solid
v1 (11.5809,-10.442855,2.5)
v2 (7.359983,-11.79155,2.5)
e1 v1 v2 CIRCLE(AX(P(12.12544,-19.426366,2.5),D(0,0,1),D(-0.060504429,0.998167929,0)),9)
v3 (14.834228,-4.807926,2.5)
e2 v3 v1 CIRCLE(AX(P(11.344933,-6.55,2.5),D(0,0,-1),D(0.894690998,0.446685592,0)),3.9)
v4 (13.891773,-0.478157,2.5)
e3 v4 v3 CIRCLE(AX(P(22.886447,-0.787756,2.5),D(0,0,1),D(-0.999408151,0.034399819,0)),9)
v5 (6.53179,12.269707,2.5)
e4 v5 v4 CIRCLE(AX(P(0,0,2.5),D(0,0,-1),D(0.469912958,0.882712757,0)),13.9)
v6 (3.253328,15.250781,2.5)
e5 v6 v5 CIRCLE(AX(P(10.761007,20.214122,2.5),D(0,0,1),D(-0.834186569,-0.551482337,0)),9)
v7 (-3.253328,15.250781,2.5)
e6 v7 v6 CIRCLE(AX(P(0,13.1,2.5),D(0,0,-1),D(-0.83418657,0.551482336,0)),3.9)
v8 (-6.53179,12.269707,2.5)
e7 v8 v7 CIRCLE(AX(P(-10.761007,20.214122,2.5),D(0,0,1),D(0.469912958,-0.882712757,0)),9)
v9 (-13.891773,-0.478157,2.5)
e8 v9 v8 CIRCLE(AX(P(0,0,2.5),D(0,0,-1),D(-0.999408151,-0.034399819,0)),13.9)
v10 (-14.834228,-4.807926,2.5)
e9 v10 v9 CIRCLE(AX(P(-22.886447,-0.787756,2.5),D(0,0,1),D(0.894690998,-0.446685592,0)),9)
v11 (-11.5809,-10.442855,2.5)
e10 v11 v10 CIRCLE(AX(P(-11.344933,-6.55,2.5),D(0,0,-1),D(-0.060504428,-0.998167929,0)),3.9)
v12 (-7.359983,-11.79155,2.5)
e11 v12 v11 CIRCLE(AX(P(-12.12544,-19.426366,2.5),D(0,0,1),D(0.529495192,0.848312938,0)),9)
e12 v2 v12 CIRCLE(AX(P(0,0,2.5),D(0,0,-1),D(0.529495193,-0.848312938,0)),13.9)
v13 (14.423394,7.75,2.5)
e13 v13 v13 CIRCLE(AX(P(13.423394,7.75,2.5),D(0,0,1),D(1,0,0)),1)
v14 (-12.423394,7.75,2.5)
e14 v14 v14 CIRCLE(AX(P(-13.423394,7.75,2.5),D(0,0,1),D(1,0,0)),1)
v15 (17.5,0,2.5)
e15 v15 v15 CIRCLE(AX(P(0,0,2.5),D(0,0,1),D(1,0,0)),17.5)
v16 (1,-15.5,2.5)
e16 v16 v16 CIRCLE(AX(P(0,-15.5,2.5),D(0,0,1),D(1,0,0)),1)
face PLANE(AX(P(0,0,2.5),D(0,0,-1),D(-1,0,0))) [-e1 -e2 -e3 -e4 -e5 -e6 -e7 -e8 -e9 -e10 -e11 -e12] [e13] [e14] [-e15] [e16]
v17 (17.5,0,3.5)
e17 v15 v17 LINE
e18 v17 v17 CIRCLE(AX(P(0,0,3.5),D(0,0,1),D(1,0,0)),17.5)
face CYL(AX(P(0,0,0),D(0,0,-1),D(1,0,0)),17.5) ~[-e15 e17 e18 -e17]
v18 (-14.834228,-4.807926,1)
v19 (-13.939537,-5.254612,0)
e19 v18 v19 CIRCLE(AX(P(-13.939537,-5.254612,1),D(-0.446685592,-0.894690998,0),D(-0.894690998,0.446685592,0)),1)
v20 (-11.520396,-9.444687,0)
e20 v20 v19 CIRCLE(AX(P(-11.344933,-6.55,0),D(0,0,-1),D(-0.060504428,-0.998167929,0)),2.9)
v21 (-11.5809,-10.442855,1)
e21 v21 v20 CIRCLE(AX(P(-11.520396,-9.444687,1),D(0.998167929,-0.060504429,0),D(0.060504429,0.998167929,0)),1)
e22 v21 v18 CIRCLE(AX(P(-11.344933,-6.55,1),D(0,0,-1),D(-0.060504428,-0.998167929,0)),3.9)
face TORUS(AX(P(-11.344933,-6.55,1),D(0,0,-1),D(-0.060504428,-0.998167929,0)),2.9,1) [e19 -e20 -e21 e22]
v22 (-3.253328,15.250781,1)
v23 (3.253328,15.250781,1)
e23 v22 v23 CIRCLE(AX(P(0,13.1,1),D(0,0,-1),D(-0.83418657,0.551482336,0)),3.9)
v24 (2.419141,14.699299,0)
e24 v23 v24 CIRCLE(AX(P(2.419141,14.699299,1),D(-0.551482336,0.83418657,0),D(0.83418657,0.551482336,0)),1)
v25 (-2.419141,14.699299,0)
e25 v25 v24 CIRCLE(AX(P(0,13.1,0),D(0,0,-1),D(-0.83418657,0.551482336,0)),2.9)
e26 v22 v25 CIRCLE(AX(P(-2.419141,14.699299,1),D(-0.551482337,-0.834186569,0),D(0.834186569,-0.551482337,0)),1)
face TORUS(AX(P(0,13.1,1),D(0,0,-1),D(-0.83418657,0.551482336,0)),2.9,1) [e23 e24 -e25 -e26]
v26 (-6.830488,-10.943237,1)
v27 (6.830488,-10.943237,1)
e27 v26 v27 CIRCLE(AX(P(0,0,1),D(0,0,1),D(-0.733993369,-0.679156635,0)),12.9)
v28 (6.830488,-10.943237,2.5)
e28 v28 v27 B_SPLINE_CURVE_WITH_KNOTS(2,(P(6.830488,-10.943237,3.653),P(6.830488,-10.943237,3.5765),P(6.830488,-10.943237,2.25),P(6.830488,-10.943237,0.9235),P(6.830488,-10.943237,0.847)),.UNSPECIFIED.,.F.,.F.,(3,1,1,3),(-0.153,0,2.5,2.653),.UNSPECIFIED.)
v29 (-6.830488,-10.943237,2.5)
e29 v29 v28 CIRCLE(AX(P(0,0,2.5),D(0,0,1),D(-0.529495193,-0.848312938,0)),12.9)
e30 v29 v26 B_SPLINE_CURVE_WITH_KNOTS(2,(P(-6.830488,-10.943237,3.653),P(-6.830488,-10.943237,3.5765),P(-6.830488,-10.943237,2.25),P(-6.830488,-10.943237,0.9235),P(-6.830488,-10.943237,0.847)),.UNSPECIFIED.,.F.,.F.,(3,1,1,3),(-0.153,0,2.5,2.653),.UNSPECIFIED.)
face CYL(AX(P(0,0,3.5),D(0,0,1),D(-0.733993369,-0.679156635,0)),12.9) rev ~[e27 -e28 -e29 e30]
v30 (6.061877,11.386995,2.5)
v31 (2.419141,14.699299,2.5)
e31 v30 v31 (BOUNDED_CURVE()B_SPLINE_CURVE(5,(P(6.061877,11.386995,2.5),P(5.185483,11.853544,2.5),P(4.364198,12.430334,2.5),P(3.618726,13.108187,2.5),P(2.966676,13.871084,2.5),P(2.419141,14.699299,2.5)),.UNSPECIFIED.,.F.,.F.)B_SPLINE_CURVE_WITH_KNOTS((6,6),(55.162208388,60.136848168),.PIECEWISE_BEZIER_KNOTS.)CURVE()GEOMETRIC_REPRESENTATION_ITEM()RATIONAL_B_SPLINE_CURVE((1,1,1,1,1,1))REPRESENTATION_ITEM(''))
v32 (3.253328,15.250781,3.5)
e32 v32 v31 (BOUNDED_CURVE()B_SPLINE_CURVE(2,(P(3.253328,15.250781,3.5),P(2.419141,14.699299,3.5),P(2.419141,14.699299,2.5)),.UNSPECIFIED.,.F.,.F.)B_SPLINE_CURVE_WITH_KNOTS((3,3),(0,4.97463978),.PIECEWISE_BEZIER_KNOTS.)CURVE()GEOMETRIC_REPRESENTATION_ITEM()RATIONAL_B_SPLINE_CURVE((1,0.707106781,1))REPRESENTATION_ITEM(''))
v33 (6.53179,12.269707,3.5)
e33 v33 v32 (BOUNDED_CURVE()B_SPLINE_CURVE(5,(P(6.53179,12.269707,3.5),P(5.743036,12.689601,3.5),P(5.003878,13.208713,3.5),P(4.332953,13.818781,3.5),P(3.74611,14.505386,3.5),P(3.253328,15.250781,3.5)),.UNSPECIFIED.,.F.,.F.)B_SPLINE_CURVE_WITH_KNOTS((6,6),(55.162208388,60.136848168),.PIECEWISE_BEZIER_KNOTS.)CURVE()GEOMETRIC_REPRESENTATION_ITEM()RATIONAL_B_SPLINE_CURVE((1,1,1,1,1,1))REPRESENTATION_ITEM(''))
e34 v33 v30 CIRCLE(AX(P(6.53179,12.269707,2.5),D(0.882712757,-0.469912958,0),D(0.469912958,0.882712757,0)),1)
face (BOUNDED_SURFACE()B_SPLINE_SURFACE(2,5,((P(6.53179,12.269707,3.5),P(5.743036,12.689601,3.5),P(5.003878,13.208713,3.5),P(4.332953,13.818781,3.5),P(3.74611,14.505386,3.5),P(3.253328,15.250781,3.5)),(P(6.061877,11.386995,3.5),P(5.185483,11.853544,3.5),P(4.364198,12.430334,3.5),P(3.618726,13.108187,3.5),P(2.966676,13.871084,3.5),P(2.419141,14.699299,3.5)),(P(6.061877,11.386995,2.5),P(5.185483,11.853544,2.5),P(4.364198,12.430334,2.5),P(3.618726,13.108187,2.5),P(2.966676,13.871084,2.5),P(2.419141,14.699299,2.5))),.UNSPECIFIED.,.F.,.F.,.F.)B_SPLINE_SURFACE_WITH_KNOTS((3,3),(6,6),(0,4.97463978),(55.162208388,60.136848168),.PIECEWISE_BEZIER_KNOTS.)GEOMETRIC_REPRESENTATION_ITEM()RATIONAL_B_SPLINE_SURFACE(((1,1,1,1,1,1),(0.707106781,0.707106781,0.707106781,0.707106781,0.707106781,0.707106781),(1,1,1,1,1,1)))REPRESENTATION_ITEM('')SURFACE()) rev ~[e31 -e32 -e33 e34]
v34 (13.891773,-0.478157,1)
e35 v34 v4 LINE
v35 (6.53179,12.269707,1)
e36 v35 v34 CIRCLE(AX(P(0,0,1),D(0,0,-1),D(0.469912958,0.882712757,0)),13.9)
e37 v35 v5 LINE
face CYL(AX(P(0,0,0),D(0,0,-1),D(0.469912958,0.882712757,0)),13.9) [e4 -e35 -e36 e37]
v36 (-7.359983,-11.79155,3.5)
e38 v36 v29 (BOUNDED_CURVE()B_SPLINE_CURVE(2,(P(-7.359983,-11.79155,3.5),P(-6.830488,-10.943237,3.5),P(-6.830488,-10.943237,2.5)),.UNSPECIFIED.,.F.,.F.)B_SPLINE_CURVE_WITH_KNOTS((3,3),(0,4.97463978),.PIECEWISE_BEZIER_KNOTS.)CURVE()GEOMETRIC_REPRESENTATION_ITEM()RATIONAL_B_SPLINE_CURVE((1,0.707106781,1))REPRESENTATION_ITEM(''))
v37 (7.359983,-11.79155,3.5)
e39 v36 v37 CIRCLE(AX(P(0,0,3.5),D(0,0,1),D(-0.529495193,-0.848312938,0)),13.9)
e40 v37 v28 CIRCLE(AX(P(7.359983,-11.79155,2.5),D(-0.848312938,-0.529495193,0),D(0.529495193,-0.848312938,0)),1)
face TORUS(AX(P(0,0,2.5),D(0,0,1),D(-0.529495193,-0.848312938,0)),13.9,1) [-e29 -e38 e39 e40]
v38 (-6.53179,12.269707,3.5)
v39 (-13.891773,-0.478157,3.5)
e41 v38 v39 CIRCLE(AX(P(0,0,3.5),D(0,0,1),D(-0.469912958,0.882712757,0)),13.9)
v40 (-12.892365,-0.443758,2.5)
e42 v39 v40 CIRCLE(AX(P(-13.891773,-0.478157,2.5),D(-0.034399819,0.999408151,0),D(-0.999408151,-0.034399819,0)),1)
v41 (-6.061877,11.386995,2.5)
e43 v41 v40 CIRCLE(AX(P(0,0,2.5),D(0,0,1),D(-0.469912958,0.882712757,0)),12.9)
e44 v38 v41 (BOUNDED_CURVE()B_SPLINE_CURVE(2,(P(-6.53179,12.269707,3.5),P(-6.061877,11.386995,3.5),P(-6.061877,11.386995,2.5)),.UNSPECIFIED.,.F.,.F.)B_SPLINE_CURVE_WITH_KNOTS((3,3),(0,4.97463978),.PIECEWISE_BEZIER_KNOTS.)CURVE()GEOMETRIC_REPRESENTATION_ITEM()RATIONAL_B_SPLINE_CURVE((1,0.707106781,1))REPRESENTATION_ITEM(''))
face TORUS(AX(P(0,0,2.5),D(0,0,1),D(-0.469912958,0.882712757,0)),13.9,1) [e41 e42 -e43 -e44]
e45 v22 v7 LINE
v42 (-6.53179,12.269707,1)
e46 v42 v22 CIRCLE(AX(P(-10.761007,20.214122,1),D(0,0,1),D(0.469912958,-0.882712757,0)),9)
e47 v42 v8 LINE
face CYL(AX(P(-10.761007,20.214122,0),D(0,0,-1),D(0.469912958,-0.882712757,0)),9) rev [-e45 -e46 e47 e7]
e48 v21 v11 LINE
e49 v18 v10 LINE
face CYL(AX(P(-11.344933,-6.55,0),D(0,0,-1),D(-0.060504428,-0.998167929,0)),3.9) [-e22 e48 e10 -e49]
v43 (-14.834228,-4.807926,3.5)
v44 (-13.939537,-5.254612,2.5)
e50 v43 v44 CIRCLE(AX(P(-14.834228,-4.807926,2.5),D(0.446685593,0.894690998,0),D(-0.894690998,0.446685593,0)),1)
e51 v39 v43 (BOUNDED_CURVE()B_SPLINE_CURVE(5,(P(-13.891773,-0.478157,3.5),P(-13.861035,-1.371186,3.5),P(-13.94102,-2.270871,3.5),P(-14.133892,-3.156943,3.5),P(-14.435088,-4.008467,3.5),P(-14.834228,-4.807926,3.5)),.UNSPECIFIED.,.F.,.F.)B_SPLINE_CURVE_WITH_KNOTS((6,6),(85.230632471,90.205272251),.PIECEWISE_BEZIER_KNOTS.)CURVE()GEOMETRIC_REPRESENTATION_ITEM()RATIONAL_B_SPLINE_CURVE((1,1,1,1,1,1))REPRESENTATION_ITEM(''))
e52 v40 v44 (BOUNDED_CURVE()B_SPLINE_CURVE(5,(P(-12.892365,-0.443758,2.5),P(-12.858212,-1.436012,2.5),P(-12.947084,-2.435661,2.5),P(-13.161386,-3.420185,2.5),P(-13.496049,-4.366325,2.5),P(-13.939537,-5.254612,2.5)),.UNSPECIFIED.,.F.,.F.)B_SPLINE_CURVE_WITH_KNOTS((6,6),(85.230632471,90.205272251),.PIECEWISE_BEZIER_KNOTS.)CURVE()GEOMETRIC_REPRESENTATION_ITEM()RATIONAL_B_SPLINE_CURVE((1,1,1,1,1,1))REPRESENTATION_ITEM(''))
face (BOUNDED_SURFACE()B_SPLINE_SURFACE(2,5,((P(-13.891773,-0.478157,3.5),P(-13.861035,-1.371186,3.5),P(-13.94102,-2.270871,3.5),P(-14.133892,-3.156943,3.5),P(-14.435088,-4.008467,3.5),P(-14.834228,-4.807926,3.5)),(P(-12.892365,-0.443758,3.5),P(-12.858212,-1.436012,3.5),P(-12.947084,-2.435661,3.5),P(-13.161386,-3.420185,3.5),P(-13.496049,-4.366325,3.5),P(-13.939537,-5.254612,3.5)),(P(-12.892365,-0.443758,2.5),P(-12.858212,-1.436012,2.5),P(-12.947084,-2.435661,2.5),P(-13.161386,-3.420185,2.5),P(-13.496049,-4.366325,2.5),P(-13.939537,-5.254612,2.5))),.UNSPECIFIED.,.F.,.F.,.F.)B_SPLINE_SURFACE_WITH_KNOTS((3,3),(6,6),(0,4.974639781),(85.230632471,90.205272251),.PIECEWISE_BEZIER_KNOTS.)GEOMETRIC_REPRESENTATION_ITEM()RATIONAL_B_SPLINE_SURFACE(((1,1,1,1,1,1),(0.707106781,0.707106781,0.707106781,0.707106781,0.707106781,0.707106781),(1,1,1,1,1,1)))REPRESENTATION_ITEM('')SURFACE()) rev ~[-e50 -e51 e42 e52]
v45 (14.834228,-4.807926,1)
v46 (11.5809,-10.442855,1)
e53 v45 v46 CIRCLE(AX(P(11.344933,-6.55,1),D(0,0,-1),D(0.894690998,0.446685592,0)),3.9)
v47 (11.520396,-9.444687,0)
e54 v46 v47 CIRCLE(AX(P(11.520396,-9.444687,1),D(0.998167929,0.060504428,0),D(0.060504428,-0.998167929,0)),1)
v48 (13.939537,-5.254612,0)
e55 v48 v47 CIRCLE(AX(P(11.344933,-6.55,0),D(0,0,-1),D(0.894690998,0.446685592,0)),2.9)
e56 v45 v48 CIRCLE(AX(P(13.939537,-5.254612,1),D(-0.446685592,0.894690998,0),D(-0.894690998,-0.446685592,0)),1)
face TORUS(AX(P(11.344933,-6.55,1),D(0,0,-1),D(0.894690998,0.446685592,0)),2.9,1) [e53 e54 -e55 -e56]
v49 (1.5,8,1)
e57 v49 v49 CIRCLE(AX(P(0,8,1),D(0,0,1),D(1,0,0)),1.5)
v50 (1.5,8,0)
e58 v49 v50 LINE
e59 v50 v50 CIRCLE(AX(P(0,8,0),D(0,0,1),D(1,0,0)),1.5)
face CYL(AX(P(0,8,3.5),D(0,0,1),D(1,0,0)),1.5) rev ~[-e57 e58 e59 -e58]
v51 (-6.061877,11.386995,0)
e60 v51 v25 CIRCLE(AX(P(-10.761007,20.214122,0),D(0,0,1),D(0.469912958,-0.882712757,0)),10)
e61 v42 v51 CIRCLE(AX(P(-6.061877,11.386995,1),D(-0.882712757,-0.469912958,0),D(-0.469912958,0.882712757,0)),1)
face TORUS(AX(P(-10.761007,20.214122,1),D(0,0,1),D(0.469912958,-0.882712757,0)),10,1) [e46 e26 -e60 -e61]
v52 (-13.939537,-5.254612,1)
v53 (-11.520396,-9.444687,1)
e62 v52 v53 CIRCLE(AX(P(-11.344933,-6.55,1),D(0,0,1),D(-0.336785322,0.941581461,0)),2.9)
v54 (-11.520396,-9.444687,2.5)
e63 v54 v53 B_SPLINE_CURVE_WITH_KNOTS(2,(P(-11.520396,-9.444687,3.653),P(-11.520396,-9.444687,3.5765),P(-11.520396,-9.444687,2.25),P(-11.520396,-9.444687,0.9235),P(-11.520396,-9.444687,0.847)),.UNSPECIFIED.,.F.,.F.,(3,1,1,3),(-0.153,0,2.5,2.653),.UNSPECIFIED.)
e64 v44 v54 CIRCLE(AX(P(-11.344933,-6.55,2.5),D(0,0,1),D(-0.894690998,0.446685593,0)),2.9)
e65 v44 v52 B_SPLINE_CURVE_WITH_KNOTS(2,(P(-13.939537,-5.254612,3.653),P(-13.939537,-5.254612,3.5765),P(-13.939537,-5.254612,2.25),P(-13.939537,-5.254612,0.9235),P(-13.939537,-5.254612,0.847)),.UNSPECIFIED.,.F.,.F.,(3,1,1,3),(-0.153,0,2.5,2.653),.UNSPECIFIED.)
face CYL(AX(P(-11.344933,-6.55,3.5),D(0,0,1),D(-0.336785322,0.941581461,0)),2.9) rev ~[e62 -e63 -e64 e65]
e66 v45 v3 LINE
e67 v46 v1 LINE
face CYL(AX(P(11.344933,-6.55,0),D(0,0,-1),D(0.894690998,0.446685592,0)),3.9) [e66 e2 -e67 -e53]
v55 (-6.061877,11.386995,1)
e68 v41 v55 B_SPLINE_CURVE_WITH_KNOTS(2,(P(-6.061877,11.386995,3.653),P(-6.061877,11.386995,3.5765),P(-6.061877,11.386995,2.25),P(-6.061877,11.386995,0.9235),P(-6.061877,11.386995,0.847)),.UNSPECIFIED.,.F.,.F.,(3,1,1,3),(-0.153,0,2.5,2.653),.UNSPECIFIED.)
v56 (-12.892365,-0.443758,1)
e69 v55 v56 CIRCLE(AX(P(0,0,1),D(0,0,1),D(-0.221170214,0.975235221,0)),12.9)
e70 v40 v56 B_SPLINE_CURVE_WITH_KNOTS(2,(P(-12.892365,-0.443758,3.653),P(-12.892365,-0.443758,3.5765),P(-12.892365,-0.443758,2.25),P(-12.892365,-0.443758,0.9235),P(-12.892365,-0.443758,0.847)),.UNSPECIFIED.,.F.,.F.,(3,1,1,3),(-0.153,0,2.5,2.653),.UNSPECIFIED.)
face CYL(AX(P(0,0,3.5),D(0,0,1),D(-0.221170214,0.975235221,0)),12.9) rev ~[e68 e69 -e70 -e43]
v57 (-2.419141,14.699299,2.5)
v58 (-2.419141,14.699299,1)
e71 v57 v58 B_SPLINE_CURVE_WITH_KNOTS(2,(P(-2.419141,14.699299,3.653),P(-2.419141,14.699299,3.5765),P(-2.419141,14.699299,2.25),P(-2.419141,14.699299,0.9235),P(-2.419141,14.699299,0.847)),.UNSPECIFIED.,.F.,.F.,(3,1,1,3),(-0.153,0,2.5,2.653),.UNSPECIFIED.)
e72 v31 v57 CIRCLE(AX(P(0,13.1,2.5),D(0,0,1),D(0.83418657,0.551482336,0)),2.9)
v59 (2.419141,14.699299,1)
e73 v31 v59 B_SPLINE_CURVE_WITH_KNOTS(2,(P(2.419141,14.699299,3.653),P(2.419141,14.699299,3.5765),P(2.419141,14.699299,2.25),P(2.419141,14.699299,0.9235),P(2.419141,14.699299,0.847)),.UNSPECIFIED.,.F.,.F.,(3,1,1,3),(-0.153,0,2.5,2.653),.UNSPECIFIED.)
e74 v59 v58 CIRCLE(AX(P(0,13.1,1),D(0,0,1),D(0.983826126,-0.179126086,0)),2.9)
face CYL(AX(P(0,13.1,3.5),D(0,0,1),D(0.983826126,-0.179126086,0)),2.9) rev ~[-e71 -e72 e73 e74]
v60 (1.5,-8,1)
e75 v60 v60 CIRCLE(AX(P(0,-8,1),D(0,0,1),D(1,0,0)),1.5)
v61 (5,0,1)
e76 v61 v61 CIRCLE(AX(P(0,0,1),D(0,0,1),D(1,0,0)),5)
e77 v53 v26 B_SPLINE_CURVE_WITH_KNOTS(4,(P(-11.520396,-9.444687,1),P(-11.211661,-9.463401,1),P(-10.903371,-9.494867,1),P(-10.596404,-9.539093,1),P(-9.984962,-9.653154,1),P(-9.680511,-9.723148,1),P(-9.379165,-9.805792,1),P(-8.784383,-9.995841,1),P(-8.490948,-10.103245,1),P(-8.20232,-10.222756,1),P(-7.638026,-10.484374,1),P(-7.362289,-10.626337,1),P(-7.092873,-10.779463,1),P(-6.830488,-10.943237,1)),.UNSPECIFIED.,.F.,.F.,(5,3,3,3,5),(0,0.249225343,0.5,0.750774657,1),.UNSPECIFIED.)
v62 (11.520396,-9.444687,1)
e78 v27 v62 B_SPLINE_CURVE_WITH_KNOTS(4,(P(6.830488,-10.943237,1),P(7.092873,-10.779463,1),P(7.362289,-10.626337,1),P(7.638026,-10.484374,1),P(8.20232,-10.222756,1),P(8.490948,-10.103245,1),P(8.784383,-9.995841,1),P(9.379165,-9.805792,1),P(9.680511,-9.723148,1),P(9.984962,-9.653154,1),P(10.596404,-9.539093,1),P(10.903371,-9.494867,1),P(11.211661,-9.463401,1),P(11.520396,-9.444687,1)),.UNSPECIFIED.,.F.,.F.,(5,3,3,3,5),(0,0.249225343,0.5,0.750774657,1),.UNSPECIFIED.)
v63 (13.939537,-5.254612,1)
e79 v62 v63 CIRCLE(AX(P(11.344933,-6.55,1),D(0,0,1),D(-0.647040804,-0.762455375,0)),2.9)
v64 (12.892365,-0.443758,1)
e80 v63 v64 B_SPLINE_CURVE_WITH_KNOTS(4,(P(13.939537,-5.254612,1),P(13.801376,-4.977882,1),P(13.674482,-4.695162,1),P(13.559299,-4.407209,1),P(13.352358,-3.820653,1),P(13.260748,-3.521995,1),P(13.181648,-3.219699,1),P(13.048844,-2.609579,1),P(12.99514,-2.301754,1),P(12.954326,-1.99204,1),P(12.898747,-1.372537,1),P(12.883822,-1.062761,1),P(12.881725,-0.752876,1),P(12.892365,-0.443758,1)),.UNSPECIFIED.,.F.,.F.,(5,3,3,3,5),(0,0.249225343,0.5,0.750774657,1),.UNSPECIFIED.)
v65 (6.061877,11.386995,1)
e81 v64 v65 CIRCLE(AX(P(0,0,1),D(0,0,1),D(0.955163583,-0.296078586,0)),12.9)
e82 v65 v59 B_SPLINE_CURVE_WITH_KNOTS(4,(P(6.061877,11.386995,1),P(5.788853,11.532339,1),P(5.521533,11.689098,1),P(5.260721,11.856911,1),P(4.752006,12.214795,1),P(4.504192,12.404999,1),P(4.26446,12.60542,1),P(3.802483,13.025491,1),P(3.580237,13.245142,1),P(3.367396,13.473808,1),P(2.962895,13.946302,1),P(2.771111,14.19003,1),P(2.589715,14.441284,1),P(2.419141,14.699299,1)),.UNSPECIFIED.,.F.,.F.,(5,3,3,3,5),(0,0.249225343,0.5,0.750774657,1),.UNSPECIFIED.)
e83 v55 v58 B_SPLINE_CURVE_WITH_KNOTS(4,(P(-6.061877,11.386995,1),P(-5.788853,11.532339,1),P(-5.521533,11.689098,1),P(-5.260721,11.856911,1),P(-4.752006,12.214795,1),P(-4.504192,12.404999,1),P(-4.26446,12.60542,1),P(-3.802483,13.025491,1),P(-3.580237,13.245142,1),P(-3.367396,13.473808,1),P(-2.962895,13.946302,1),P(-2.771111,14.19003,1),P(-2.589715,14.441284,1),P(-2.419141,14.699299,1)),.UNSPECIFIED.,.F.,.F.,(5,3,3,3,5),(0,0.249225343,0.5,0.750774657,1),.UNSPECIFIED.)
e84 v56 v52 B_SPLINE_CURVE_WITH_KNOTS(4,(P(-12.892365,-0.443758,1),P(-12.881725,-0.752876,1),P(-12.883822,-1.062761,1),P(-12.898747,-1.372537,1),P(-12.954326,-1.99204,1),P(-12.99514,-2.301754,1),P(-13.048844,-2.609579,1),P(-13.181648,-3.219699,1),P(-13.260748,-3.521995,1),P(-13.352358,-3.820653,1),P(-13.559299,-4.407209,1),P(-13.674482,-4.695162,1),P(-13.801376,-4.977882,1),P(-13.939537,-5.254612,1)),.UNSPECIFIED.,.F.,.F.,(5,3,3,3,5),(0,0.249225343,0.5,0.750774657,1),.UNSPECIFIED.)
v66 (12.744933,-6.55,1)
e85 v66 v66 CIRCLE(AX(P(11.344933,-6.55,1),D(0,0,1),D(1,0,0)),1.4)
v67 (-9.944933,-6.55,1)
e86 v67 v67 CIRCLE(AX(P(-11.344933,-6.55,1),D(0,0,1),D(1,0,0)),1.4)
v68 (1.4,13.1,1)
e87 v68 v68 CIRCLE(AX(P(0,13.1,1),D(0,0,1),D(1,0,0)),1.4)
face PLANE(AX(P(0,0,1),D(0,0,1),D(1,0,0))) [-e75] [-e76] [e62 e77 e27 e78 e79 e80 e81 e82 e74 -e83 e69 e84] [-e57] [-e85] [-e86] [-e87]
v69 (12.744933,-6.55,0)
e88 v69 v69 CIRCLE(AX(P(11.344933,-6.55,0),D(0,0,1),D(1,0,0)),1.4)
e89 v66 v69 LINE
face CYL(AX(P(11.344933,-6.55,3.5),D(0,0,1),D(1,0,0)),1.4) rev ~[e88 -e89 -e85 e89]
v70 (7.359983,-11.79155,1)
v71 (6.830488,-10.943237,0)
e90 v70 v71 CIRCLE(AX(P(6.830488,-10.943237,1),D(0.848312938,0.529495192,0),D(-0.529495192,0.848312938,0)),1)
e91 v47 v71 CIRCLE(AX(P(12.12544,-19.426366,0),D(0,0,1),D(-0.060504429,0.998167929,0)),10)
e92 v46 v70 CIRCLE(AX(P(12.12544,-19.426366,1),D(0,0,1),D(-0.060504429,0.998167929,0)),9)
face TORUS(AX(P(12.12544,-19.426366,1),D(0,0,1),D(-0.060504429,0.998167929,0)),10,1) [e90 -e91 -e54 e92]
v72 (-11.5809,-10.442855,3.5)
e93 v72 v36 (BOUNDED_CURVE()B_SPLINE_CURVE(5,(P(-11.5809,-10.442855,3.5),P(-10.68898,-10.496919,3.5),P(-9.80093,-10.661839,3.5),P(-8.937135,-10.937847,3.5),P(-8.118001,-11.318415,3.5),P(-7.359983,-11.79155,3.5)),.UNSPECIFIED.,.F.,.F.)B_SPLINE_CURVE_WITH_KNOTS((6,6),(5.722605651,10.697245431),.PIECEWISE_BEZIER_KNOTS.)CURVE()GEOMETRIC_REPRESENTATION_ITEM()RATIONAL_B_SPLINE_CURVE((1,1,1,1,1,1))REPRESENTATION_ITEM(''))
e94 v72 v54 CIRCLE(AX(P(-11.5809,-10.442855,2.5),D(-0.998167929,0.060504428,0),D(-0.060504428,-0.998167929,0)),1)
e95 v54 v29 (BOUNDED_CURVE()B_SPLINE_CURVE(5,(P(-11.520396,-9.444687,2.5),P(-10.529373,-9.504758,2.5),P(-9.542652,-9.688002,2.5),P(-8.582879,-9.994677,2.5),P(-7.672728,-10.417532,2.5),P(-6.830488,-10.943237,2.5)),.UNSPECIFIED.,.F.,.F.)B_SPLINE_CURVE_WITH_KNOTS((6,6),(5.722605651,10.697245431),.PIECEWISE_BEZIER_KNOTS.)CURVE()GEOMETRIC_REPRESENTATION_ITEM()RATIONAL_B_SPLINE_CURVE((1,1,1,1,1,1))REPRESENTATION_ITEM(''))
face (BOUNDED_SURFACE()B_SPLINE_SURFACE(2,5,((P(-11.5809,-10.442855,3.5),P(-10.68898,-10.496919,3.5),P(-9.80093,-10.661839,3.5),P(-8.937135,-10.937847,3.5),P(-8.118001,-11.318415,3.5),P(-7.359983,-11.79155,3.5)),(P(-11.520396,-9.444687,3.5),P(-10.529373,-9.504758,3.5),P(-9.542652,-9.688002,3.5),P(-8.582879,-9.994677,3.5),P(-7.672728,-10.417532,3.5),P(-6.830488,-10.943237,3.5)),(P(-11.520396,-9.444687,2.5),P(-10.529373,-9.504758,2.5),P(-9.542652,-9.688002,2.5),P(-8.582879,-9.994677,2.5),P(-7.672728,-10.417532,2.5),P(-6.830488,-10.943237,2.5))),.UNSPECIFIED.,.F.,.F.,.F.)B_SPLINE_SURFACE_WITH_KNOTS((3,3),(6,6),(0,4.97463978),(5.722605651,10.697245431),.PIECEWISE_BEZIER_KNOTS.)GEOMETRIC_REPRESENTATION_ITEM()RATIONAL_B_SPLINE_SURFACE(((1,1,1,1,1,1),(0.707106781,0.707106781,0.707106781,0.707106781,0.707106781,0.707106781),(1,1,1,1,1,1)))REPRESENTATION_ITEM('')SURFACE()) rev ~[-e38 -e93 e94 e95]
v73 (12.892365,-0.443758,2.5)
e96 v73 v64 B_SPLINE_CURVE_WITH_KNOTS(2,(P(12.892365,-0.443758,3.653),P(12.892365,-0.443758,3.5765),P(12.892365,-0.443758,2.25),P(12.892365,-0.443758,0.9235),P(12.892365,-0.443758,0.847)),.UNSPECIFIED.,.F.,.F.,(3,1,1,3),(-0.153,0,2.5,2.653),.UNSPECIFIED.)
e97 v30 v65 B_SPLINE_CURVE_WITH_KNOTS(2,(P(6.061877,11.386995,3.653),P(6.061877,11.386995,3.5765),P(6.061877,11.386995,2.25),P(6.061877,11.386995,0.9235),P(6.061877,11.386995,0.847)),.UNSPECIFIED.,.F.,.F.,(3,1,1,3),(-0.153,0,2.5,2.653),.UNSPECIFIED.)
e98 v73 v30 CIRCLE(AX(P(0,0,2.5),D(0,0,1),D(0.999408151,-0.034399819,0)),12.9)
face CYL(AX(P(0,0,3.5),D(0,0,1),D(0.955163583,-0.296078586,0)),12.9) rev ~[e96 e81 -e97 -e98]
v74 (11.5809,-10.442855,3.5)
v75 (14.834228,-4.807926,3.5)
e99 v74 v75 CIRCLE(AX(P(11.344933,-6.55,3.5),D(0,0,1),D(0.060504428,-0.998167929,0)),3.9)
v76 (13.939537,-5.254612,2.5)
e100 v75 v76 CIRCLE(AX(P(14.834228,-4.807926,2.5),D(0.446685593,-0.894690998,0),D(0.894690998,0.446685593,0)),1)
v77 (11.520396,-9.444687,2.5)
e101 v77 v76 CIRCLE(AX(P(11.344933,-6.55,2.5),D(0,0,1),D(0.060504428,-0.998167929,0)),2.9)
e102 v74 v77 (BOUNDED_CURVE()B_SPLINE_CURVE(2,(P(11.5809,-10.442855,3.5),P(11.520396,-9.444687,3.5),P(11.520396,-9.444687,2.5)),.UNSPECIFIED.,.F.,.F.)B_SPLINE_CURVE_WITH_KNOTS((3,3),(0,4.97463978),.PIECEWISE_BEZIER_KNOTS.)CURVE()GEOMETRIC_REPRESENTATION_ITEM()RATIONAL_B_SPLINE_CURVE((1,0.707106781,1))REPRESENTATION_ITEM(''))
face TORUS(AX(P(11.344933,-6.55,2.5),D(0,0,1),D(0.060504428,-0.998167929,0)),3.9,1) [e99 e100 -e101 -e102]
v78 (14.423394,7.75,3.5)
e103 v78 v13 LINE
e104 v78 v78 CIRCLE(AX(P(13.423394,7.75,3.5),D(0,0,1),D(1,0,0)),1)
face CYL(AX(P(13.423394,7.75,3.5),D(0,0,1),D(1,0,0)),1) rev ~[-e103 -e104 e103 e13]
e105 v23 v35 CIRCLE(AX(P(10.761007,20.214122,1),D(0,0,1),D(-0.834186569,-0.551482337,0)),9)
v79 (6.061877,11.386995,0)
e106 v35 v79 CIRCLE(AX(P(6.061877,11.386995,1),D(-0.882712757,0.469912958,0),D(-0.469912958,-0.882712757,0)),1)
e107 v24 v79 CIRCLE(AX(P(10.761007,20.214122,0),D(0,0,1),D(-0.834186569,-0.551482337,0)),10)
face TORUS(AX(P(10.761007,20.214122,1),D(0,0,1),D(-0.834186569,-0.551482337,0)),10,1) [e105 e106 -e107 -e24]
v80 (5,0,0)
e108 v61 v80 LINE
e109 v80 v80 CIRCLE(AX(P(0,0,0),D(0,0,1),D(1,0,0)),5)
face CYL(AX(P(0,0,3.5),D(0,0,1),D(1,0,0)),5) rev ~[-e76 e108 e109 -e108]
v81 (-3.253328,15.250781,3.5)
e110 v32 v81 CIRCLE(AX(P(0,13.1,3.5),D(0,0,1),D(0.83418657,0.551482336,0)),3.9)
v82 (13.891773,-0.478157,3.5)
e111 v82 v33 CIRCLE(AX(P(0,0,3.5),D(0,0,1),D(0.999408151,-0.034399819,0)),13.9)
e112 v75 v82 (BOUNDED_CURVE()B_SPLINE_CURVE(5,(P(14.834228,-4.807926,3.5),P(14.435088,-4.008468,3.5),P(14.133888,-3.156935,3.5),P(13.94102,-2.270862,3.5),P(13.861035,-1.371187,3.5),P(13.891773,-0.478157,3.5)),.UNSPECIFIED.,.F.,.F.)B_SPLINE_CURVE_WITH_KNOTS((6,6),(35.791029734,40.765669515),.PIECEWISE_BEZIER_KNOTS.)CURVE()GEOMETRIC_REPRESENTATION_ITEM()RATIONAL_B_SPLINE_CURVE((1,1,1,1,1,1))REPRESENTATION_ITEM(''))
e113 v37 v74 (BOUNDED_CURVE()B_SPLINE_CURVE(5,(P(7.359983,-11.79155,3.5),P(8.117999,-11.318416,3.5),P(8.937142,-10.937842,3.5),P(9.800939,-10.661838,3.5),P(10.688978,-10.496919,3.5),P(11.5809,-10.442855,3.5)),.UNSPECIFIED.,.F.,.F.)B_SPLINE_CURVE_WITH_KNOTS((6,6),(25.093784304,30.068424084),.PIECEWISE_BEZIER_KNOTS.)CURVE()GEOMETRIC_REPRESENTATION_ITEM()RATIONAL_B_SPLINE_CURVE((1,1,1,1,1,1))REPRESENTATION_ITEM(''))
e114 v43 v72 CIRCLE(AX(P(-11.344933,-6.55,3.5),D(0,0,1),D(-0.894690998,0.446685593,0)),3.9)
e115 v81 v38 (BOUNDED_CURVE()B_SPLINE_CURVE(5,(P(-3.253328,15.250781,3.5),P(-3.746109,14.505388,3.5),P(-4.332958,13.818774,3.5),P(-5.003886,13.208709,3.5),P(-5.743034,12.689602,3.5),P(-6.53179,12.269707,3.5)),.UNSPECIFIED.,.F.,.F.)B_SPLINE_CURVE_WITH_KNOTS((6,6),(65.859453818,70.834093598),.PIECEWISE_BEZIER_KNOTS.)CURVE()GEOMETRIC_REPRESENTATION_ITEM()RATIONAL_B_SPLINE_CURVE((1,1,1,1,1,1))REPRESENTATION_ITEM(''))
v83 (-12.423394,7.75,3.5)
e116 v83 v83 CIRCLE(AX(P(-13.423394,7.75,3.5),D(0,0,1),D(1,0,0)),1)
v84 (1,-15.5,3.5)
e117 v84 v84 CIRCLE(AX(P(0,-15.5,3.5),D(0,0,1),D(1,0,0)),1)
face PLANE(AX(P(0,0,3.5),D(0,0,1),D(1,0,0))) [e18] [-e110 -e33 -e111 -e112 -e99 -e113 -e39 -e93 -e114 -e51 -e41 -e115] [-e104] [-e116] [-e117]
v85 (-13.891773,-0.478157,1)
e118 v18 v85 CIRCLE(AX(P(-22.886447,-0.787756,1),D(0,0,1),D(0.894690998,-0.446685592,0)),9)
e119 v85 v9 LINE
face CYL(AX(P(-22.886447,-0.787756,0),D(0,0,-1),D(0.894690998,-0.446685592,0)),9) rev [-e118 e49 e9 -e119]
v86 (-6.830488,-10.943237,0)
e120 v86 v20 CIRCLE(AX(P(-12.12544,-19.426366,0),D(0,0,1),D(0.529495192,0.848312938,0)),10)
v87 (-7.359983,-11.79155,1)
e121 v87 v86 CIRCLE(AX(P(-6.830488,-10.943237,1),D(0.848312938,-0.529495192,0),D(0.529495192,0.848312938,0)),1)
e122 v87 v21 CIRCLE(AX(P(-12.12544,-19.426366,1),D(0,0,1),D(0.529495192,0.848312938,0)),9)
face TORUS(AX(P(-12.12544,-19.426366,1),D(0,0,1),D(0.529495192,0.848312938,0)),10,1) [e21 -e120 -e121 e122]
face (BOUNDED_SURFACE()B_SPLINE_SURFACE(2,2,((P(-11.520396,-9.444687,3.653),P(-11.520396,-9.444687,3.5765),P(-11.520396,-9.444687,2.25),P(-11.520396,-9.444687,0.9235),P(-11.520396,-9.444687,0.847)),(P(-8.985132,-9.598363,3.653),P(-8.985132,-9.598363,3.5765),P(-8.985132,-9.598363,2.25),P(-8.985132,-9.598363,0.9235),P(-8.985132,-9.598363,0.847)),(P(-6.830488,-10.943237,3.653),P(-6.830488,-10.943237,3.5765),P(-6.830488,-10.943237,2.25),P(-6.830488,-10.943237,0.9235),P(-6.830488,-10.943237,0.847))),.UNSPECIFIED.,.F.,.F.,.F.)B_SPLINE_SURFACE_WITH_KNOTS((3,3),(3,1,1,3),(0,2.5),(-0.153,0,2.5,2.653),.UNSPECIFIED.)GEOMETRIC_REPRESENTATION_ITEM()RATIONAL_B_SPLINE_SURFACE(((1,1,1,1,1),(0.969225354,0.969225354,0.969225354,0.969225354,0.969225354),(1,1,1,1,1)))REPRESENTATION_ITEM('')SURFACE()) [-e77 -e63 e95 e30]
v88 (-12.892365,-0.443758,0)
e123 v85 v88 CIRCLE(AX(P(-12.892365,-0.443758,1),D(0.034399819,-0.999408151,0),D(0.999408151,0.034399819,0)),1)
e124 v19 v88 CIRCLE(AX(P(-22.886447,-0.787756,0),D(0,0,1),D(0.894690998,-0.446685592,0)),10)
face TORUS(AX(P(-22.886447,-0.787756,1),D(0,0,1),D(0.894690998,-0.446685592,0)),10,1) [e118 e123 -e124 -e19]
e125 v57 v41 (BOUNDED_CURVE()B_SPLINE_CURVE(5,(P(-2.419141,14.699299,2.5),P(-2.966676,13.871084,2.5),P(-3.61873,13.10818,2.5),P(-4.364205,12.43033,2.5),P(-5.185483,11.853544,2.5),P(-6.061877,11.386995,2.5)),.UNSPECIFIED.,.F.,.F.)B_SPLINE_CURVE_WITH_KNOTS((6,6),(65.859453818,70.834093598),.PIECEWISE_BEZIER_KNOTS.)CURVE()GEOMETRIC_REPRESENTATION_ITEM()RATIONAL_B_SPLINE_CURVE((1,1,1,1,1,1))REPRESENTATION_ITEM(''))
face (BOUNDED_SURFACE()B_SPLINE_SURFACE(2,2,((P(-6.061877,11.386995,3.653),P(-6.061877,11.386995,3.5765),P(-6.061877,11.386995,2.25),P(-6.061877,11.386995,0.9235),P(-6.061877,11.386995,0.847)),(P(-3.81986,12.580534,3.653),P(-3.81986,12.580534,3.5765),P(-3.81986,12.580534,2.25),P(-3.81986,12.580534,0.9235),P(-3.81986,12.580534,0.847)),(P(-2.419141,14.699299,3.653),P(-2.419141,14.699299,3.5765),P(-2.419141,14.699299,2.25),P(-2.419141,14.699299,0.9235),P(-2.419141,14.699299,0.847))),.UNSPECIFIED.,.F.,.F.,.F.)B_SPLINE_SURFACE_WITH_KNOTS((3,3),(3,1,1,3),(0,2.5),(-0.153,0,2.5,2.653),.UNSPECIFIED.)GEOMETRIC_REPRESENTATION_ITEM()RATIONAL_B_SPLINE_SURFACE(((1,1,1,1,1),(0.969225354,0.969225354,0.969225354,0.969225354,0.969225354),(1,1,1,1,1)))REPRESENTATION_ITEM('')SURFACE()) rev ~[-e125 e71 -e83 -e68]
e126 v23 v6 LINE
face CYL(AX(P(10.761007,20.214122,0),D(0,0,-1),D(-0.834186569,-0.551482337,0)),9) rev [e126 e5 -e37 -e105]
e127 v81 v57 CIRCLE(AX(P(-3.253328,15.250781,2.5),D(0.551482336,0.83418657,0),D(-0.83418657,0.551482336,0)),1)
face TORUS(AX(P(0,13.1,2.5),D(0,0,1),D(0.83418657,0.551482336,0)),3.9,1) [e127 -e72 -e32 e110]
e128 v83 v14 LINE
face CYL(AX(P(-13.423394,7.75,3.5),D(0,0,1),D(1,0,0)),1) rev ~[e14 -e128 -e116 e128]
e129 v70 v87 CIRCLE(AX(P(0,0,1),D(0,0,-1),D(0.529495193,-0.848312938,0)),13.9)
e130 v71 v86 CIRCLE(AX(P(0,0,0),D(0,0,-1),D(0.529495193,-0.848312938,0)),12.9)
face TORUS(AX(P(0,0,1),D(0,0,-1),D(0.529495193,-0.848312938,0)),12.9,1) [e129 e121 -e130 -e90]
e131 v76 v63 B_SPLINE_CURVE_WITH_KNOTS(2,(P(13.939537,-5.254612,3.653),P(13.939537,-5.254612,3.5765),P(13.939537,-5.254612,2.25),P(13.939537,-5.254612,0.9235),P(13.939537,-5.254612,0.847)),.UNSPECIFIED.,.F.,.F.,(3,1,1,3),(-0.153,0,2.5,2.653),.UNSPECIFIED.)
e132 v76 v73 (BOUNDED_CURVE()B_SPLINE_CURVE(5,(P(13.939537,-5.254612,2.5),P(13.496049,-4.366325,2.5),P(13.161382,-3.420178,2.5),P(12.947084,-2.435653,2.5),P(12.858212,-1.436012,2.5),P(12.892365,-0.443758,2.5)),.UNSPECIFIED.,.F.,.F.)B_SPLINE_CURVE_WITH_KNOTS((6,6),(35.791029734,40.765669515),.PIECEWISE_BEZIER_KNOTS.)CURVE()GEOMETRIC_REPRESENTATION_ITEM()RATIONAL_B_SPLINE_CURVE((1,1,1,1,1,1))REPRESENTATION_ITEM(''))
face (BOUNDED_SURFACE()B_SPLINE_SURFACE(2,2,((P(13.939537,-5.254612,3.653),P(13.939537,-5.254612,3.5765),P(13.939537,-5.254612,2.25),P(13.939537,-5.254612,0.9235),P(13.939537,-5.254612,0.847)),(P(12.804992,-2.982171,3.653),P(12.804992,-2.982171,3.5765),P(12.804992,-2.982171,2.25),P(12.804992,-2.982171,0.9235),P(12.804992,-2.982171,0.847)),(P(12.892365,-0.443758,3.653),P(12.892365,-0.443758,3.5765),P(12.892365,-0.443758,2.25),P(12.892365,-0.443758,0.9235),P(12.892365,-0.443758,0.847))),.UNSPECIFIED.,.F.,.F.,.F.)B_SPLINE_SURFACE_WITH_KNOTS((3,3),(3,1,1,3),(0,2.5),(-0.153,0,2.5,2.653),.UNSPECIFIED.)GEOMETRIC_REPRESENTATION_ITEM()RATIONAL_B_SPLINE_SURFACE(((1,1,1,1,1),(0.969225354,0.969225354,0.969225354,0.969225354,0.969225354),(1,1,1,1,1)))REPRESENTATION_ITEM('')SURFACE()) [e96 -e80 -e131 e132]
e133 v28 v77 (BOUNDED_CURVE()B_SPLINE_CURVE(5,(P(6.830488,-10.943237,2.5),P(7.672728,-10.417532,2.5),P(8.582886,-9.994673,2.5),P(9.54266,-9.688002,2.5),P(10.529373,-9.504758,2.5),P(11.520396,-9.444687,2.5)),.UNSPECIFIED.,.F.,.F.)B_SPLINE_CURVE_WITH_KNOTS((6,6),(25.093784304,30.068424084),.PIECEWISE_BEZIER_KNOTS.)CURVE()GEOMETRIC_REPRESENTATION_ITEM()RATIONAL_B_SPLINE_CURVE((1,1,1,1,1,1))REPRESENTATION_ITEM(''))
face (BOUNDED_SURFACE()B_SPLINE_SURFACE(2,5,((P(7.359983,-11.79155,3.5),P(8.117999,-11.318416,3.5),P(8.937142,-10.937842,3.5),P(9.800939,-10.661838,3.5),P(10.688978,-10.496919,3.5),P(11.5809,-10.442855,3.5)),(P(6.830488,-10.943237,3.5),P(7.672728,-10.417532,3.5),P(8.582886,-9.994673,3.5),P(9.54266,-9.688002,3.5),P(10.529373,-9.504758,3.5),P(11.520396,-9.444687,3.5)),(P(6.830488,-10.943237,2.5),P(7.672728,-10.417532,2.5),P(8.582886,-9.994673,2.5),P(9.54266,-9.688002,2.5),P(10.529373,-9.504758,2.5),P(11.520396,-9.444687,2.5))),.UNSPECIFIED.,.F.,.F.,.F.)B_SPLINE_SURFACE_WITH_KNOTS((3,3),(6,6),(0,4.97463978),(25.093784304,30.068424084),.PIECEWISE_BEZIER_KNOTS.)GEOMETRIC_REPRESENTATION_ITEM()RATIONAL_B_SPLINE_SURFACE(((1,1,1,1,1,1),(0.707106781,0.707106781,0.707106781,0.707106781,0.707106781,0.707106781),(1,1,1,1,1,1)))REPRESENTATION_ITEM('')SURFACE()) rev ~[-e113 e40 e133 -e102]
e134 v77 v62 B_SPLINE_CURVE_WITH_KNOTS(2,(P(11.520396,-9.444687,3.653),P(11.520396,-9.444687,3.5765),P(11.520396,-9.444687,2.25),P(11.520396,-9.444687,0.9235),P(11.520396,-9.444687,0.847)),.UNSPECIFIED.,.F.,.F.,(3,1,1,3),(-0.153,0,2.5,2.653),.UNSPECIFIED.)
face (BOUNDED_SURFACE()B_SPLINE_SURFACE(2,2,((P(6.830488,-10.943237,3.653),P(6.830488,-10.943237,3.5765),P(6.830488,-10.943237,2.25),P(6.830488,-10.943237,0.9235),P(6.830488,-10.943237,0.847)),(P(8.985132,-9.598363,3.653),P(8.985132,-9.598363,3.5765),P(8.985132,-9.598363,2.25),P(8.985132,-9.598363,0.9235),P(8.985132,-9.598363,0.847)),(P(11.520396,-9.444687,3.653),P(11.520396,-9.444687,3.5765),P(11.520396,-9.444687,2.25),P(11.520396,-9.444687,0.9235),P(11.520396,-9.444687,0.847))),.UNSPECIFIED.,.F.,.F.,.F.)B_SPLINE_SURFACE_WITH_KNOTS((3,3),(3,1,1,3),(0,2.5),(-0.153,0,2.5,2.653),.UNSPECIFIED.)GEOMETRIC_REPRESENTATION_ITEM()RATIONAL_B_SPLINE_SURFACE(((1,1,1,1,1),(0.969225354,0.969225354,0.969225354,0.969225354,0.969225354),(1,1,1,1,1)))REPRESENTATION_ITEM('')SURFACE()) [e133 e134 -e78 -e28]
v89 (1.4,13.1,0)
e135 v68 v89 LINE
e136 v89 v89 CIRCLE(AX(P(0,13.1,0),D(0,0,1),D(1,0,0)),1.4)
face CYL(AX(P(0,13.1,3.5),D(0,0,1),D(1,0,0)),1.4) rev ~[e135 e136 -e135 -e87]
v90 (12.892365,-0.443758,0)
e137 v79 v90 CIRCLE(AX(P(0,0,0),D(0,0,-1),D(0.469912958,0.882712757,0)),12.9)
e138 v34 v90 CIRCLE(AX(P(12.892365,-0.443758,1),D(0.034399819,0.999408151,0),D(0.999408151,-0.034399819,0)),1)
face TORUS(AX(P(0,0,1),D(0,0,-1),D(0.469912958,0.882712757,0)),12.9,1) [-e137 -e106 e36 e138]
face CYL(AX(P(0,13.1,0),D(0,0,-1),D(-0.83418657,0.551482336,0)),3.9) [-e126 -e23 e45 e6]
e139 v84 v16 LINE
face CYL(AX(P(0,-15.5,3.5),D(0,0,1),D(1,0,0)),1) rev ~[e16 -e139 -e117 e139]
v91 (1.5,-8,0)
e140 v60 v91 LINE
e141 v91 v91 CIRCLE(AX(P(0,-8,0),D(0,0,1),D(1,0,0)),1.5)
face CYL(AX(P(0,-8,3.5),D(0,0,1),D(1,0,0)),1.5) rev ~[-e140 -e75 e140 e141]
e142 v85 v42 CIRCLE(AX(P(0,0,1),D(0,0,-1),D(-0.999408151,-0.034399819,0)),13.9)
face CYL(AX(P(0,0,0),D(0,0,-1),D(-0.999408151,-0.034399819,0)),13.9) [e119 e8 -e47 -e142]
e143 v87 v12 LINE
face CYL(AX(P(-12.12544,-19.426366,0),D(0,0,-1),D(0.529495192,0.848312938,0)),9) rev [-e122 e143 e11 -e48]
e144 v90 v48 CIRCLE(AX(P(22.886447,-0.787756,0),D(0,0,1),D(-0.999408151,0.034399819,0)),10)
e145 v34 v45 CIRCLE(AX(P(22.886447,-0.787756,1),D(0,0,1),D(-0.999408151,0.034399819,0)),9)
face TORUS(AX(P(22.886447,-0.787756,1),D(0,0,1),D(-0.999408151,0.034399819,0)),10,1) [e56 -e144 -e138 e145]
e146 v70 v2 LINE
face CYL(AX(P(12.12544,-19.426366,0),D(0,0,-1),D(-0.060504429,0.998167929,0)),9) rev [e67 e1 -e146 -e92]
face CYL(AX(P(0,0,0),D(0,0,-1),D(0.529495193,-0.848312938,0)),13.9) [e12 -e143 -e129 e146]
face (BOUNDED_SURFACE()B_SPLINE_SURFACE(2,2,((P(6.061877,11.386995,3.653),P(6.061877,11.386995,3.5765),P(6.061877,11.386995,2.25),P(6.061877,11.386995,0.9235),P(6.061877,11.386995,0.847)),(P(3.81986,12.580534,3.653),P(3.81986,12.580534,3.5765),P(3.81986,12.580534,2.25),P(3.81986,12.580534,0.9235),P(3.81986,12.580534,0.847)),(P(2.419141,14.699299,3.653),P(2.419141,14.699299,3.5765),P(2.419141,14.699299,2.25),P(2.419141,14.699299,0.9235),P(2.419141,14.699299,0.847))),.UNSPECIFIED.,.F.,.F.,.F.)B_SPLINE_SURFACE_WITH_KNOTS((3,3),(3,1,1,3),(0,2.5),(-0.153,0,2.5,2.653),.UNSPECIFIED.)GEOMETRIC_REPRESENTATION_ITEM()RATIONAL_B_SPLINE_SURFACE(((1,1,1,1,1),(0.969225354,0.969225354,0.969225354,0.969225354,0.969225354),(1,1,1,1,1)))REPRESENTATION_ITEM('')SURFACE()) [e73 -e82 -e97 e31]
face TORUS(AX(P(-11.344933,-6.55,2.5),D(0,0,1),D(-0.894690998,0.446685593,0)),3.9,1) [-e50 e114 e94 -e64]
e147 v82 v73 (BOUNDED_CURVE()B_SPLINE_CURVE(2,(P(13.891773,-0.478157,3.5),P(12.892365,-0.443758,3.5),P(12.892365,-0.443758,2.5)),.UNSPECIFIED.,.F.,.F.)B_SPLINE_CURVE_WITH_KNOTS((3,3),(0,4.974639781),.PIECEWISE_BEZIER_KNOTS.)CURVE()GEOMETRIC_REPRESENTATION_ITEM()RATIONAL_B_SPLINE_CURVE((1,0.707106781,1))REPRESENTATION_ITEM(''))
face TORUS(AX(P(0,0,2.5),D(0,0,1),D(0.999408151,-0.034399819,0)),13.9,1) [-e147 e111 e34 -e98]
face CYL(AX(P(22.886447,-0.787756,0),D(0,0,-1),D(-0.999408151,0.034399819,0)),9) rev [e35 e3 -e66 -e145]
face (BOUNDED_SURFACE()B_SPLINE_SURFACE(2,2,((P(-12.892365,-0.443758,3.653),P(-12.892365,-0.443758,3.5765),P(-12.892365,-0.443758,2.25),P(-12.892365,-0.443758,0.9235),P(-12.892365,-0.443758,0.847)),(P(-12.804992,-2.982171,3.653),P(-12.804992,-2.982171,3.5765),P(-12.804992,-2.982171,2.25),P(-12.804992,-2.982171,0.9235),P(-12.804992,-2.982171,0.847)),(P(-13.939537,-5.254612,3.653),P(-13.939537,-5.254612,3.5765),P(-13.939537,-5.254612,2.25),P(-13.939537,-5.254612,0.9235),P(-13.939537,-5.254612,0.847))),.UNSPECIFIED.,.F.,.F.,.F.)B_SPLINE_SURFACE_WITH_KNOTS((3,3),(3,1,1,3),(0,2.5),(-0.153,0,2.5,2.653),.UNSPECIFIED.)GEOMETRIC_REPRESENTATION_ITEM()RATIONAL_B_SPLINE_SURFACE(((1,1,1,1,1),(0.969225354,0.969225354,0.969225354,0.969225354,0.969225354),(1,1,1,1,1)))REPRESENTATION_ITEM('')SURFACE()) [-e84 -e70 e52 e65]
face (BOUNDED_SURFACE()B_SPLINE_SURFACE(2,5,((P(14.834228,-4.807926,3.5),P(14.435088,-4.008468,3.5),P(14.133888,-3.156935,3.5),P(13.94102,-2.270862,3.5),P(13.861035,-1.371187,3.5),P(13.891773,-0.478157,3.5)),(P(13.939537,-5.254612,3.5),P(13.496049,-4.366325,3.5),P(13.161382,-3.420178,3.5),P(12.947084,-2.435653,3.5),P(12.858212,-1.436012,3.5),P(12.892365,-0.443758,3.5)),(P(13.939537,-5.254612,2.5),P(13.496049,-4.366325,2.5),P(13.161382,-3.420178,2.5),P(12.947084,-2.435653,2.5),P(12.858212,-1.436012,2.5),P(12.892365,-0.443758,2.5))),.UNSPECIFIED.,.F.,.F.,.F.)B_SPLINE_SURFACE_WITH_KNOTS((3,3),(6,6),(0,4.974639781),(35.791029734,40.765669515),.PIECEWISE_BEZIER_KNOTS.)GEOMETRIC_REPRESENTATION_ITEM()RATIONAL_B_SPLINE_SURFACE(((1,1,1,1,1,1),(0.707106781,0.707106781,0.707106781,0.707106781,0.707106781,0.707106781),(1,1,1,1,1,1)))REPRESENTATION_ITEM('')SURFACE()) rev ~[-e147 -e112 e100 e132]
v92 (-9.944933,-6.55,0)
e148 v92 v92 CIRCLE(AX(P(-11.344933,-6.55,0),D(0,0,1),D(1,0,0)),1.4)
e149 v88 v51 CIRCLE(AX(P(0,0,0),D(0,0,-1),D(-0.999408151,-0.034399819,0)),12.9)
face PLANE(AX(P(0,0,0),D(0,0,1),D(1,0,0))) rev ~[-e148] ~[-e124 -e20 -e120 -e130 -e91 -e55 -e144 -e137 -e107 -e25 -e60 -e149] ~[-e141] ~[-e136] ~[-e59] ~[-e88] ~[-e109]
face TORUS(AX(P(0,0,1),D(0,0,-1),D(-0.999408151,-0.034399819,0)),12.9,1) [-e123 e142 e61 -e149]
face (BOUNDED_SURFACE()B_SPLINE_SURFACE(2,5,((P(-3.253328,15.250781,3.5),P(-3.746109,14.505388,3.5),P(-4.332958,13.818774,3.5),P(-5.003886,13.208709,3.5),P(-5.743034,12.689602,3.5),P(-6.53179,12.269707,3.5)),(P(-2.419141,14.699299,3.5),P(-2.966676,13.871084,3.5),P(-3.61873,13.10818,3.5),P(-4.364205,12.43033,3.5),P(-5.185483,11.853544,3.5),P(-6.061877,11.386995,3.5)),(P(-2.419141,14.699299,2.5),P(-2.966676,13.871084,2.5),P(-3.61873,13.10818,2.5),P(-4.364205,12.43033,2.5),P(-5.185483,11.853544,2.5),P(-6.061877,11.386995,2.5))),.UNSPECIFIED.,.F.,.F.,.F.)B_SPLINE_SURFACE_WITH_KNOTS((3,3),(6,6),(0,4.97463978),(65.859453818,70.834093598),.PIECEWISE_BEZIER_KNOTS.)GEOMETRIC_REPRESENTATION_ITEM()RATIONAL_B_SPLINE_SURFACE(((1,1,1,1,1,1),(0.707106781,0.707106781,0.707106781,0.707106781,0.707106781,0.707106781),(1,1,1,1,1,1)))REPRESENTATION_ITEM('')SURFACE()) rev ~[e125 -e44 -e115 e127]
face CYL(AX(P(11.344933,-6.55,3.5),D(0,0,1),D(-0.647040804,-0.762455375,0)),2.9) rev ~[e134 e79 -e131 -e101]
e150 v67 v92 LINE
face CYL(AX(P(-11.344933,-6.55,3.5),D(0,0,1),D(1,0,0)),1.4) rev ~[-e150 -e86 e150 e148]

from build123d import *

# Parameters (mm, degrees)
SKETCH_1_R          = 17.5
EXTRUDE_1_DEPTH     = 3.5
CUT_EXTRUDE_1_DEPTH = 2.5
FILLET_1_R          = 10
SKETCH_3_R          = 17.5
CUT_EXTRUDE_2_DEPTH = 2.5
FILLET_2_R          = 1
FILLET_3_R          = 1
SKETCH_4_R          = 1.4
SKETCH_4_R_2        = 1
SKETCH_4_R_3        = 1.5
SKETCH_4_R_4        = 5
CUT_EXTRUDE_3_DEPTH = 25.99499964


with BuildPart() as part:
    # ｽｹｯﾁ1 → ﾎﾞｽ - 押し出し1 (new body)
    with BuildSketch(Plane.XY):
        Circle(SKETCH_1_R)
    extrude(amount=EXTRUDE_1_DEPTH)

    # ｽｹｯﾁ2 → ｶｯﾄ - 押し出し1 (cut)
    with BuildSketch(Plane.XY.offset(3.5)):
        with BuildLine():
            ThreePointArc((-2.853095764, 12.580534351), (-11.171727709, 6.45), (-12.321610223, -3.819413764))
            ThreePointArc((-12.321610223, -3.819413764), (-13.856406461, -8), (-9.468514459, -8.761120587))
            ThreePointArc((-9.468514459, -8.761120587), (0, -12.9), (9.468514459, -8.761120587))
            ThreePointArc((9.468514459, -8.761120587), (13.856406461, -8), (12.321610223, -3.819413764))
            ThreePointArc((12.321610223, -3.819413764), (11.171727709, 6.45), (2.853095764, 12.580534351))
            ThreePointArc((2.853095764, 12.580534351), (0, 16), (-2.853095764, 12.580534351))
        make_face()
    extrude(amount=-CUT_EXTRUDE_1_DEPTH, mode=Mode.SUBTRACT)

    # ﾌｨﾚｯﾄ1
    fillet_1_edges = [part.edges().sort_by_distance(p)[0] for p in [
        (2.853095764, 12.580534351, 2.25),
        (12.321610223, -3.819413764, 2.25),
        (9.468514459, -8.761120587, 2.25),
        (-9.468514459, -8.761120587, 2.25),
        (-12.321610223, -3.819413764, 2.25),
        (-2.853095764, 12.580534351, 2.25),
    ]]
    fillet(fillet_1_edges, radius=FILLET_1_R)

    # ｽｹｯﾁ3 → ｶｯﾄ - 押し出し2 (cut)
    with BuildSketch(Plane(origin=(0, 0, 0), x_dir=(-1, 0, 0), z_dir=(0, 0, -1))):
        Circle(SKETCH_3_R)
        with BuildLine():
            ThreePointArc((11.580900059, -10.442854922), (14.722431864, -8.5), (14.834227681, -4.807926189))
            ThreePointArc((14.834227681, -4.807926189), (14.092365761, -2.7019505), (13.8917733, -0.478157484))
            ThreePointArc((13.8917733, -0.478157484), (12.037753113, 6.95), (6.531790122, 12.269707324))
            ThreePointArc((6.531790122, 12.269707324), (4.706225108, 13.555321998), (3.253327621, 15.250781111))
            ThreePointArc((3.253327621, 15.250781111), (0, 17), (-3.253327621, 15.250781111))
            ThreePointArc((-3.253327621, 15.250781111), (-4.706225108, 13.555321998), (-6.531790122, 12.269707324))
            ThreePointArc((-6.531790122, 12.269707324), (-12.037753113, 6.95), (-13.8917733, -0.478157484))
            ThreePointArc((-13.8917733, -0.478157484), (-14.092365761, -2.7019505), (-14.834227681, -4.807926189))
            ThreePointArc((-14.834227681, -4.807926189), (-14.722431864, -8.5), (-11.580900059, -10.442854922))
            ThreePointArc((-11.580900059, -10.442854922), (-9.386140653, -10.853371498), (-7.359983178, -11.791549839))
            ThreePointArc((-7.359983178, -11.791549839), (0, -13.9), (7.359983178, -11.791549839))
            ThreePointArc((7.359983178, -11.791549839), (9.386140653, -10.853371498), (11.580900059, -10.442854922))
        make_face(mode=Mode.SUBTRACT)
    extrude(amount=-CUT_EXTRUDE_2_DEPTH, mode=Mode.SUBTRACT)

    # ﾌｨﾚｯﾄ2
    fillet_2_edges = [part.edges().sort_by_distance(p)[0] for p in [
        (-13.856406461, -8, 3.5),
        (0, -12.9, 3.5),
        (-11.171727709, 6.45, 3.5),
        (0, 16, 3.5),
        (11.171727709, 6.45, 3.5),
        (13.856406461, -8, 3.5),
        (-4.033471592, 12.815455316, 3.5),
        (4.033471592, 12.815455316, 3.5),
        (13.115245661, -2.914638794, 3.5),
        (9.081774068, -9.900816522, 3.5),
        (-9.081774068, -9.900816522, 3.5),
        (-13.115245661, -2.914638794, 3.5),
    ]]
    fillet(fillet_2_edges, radius=FILLET_2_R)

    # ﾌｨﾚｯﾄ3
    fillet_3_edges = [part.edges().sort_by_distance(p)[0] for p in [
        (-9.386140653, -10.853371498, 0),
        (0, -13.9, 0),
        (9.386140653, -10.853371498, 0),
        (14.722431864, -8.5, 0),
        (14.092365761, -2.7019505, 0),
        (12.037753113, 6.95, 0),
        (4.706225108, 13.555321998, 0),
        (0, 17, 0),
        (-4.706225108, 13.555321998, 0),
        (-12.037753113, 6.95, 0),
        (-14.092365761, -2.7019505, 0),
        (-14.722431864, -8.5, 0),
    ]]
    fillet(fillet_3_edges, radius=FILLET_3_R)

    # ｽｹｯﾁ4 → ｶｯﾄ - 押し出し3 (cut, through all)
    with BuildSketch(Plane.XY.offset(3.5)):
        with Locations((0, 13.1)):
            Circle(SKETCH_4_R)
        with Locations((0, -15.5)):
            Circle(SKETCH_4_R_2)
        with Locations((11.34493279, -6.55)):
            Circle(SKETCH_4_R)
        with Locations((-13.423393759, 7.75)):
            Circle(SKETCH_4_R_2)
        with Locations((-11.34493279, -6.55)):
            Circle(SKETCH_4_R)
        with Locations((13.423393759, 7.75)):
            Circle(SKETCH_4_R_2)
        with Locations((0, 8)):
            Circle(SKETCH_4_R_3)
        Circle(SKETCH_4_R_4)
        with Locations((0, -8)):
            Circle(SKETCH_4_R_3)
    extrude(amount=-CUT_EXTRUDE_3_DEPTH, mode=Mode.SUBTRACT)


solid = part.part
